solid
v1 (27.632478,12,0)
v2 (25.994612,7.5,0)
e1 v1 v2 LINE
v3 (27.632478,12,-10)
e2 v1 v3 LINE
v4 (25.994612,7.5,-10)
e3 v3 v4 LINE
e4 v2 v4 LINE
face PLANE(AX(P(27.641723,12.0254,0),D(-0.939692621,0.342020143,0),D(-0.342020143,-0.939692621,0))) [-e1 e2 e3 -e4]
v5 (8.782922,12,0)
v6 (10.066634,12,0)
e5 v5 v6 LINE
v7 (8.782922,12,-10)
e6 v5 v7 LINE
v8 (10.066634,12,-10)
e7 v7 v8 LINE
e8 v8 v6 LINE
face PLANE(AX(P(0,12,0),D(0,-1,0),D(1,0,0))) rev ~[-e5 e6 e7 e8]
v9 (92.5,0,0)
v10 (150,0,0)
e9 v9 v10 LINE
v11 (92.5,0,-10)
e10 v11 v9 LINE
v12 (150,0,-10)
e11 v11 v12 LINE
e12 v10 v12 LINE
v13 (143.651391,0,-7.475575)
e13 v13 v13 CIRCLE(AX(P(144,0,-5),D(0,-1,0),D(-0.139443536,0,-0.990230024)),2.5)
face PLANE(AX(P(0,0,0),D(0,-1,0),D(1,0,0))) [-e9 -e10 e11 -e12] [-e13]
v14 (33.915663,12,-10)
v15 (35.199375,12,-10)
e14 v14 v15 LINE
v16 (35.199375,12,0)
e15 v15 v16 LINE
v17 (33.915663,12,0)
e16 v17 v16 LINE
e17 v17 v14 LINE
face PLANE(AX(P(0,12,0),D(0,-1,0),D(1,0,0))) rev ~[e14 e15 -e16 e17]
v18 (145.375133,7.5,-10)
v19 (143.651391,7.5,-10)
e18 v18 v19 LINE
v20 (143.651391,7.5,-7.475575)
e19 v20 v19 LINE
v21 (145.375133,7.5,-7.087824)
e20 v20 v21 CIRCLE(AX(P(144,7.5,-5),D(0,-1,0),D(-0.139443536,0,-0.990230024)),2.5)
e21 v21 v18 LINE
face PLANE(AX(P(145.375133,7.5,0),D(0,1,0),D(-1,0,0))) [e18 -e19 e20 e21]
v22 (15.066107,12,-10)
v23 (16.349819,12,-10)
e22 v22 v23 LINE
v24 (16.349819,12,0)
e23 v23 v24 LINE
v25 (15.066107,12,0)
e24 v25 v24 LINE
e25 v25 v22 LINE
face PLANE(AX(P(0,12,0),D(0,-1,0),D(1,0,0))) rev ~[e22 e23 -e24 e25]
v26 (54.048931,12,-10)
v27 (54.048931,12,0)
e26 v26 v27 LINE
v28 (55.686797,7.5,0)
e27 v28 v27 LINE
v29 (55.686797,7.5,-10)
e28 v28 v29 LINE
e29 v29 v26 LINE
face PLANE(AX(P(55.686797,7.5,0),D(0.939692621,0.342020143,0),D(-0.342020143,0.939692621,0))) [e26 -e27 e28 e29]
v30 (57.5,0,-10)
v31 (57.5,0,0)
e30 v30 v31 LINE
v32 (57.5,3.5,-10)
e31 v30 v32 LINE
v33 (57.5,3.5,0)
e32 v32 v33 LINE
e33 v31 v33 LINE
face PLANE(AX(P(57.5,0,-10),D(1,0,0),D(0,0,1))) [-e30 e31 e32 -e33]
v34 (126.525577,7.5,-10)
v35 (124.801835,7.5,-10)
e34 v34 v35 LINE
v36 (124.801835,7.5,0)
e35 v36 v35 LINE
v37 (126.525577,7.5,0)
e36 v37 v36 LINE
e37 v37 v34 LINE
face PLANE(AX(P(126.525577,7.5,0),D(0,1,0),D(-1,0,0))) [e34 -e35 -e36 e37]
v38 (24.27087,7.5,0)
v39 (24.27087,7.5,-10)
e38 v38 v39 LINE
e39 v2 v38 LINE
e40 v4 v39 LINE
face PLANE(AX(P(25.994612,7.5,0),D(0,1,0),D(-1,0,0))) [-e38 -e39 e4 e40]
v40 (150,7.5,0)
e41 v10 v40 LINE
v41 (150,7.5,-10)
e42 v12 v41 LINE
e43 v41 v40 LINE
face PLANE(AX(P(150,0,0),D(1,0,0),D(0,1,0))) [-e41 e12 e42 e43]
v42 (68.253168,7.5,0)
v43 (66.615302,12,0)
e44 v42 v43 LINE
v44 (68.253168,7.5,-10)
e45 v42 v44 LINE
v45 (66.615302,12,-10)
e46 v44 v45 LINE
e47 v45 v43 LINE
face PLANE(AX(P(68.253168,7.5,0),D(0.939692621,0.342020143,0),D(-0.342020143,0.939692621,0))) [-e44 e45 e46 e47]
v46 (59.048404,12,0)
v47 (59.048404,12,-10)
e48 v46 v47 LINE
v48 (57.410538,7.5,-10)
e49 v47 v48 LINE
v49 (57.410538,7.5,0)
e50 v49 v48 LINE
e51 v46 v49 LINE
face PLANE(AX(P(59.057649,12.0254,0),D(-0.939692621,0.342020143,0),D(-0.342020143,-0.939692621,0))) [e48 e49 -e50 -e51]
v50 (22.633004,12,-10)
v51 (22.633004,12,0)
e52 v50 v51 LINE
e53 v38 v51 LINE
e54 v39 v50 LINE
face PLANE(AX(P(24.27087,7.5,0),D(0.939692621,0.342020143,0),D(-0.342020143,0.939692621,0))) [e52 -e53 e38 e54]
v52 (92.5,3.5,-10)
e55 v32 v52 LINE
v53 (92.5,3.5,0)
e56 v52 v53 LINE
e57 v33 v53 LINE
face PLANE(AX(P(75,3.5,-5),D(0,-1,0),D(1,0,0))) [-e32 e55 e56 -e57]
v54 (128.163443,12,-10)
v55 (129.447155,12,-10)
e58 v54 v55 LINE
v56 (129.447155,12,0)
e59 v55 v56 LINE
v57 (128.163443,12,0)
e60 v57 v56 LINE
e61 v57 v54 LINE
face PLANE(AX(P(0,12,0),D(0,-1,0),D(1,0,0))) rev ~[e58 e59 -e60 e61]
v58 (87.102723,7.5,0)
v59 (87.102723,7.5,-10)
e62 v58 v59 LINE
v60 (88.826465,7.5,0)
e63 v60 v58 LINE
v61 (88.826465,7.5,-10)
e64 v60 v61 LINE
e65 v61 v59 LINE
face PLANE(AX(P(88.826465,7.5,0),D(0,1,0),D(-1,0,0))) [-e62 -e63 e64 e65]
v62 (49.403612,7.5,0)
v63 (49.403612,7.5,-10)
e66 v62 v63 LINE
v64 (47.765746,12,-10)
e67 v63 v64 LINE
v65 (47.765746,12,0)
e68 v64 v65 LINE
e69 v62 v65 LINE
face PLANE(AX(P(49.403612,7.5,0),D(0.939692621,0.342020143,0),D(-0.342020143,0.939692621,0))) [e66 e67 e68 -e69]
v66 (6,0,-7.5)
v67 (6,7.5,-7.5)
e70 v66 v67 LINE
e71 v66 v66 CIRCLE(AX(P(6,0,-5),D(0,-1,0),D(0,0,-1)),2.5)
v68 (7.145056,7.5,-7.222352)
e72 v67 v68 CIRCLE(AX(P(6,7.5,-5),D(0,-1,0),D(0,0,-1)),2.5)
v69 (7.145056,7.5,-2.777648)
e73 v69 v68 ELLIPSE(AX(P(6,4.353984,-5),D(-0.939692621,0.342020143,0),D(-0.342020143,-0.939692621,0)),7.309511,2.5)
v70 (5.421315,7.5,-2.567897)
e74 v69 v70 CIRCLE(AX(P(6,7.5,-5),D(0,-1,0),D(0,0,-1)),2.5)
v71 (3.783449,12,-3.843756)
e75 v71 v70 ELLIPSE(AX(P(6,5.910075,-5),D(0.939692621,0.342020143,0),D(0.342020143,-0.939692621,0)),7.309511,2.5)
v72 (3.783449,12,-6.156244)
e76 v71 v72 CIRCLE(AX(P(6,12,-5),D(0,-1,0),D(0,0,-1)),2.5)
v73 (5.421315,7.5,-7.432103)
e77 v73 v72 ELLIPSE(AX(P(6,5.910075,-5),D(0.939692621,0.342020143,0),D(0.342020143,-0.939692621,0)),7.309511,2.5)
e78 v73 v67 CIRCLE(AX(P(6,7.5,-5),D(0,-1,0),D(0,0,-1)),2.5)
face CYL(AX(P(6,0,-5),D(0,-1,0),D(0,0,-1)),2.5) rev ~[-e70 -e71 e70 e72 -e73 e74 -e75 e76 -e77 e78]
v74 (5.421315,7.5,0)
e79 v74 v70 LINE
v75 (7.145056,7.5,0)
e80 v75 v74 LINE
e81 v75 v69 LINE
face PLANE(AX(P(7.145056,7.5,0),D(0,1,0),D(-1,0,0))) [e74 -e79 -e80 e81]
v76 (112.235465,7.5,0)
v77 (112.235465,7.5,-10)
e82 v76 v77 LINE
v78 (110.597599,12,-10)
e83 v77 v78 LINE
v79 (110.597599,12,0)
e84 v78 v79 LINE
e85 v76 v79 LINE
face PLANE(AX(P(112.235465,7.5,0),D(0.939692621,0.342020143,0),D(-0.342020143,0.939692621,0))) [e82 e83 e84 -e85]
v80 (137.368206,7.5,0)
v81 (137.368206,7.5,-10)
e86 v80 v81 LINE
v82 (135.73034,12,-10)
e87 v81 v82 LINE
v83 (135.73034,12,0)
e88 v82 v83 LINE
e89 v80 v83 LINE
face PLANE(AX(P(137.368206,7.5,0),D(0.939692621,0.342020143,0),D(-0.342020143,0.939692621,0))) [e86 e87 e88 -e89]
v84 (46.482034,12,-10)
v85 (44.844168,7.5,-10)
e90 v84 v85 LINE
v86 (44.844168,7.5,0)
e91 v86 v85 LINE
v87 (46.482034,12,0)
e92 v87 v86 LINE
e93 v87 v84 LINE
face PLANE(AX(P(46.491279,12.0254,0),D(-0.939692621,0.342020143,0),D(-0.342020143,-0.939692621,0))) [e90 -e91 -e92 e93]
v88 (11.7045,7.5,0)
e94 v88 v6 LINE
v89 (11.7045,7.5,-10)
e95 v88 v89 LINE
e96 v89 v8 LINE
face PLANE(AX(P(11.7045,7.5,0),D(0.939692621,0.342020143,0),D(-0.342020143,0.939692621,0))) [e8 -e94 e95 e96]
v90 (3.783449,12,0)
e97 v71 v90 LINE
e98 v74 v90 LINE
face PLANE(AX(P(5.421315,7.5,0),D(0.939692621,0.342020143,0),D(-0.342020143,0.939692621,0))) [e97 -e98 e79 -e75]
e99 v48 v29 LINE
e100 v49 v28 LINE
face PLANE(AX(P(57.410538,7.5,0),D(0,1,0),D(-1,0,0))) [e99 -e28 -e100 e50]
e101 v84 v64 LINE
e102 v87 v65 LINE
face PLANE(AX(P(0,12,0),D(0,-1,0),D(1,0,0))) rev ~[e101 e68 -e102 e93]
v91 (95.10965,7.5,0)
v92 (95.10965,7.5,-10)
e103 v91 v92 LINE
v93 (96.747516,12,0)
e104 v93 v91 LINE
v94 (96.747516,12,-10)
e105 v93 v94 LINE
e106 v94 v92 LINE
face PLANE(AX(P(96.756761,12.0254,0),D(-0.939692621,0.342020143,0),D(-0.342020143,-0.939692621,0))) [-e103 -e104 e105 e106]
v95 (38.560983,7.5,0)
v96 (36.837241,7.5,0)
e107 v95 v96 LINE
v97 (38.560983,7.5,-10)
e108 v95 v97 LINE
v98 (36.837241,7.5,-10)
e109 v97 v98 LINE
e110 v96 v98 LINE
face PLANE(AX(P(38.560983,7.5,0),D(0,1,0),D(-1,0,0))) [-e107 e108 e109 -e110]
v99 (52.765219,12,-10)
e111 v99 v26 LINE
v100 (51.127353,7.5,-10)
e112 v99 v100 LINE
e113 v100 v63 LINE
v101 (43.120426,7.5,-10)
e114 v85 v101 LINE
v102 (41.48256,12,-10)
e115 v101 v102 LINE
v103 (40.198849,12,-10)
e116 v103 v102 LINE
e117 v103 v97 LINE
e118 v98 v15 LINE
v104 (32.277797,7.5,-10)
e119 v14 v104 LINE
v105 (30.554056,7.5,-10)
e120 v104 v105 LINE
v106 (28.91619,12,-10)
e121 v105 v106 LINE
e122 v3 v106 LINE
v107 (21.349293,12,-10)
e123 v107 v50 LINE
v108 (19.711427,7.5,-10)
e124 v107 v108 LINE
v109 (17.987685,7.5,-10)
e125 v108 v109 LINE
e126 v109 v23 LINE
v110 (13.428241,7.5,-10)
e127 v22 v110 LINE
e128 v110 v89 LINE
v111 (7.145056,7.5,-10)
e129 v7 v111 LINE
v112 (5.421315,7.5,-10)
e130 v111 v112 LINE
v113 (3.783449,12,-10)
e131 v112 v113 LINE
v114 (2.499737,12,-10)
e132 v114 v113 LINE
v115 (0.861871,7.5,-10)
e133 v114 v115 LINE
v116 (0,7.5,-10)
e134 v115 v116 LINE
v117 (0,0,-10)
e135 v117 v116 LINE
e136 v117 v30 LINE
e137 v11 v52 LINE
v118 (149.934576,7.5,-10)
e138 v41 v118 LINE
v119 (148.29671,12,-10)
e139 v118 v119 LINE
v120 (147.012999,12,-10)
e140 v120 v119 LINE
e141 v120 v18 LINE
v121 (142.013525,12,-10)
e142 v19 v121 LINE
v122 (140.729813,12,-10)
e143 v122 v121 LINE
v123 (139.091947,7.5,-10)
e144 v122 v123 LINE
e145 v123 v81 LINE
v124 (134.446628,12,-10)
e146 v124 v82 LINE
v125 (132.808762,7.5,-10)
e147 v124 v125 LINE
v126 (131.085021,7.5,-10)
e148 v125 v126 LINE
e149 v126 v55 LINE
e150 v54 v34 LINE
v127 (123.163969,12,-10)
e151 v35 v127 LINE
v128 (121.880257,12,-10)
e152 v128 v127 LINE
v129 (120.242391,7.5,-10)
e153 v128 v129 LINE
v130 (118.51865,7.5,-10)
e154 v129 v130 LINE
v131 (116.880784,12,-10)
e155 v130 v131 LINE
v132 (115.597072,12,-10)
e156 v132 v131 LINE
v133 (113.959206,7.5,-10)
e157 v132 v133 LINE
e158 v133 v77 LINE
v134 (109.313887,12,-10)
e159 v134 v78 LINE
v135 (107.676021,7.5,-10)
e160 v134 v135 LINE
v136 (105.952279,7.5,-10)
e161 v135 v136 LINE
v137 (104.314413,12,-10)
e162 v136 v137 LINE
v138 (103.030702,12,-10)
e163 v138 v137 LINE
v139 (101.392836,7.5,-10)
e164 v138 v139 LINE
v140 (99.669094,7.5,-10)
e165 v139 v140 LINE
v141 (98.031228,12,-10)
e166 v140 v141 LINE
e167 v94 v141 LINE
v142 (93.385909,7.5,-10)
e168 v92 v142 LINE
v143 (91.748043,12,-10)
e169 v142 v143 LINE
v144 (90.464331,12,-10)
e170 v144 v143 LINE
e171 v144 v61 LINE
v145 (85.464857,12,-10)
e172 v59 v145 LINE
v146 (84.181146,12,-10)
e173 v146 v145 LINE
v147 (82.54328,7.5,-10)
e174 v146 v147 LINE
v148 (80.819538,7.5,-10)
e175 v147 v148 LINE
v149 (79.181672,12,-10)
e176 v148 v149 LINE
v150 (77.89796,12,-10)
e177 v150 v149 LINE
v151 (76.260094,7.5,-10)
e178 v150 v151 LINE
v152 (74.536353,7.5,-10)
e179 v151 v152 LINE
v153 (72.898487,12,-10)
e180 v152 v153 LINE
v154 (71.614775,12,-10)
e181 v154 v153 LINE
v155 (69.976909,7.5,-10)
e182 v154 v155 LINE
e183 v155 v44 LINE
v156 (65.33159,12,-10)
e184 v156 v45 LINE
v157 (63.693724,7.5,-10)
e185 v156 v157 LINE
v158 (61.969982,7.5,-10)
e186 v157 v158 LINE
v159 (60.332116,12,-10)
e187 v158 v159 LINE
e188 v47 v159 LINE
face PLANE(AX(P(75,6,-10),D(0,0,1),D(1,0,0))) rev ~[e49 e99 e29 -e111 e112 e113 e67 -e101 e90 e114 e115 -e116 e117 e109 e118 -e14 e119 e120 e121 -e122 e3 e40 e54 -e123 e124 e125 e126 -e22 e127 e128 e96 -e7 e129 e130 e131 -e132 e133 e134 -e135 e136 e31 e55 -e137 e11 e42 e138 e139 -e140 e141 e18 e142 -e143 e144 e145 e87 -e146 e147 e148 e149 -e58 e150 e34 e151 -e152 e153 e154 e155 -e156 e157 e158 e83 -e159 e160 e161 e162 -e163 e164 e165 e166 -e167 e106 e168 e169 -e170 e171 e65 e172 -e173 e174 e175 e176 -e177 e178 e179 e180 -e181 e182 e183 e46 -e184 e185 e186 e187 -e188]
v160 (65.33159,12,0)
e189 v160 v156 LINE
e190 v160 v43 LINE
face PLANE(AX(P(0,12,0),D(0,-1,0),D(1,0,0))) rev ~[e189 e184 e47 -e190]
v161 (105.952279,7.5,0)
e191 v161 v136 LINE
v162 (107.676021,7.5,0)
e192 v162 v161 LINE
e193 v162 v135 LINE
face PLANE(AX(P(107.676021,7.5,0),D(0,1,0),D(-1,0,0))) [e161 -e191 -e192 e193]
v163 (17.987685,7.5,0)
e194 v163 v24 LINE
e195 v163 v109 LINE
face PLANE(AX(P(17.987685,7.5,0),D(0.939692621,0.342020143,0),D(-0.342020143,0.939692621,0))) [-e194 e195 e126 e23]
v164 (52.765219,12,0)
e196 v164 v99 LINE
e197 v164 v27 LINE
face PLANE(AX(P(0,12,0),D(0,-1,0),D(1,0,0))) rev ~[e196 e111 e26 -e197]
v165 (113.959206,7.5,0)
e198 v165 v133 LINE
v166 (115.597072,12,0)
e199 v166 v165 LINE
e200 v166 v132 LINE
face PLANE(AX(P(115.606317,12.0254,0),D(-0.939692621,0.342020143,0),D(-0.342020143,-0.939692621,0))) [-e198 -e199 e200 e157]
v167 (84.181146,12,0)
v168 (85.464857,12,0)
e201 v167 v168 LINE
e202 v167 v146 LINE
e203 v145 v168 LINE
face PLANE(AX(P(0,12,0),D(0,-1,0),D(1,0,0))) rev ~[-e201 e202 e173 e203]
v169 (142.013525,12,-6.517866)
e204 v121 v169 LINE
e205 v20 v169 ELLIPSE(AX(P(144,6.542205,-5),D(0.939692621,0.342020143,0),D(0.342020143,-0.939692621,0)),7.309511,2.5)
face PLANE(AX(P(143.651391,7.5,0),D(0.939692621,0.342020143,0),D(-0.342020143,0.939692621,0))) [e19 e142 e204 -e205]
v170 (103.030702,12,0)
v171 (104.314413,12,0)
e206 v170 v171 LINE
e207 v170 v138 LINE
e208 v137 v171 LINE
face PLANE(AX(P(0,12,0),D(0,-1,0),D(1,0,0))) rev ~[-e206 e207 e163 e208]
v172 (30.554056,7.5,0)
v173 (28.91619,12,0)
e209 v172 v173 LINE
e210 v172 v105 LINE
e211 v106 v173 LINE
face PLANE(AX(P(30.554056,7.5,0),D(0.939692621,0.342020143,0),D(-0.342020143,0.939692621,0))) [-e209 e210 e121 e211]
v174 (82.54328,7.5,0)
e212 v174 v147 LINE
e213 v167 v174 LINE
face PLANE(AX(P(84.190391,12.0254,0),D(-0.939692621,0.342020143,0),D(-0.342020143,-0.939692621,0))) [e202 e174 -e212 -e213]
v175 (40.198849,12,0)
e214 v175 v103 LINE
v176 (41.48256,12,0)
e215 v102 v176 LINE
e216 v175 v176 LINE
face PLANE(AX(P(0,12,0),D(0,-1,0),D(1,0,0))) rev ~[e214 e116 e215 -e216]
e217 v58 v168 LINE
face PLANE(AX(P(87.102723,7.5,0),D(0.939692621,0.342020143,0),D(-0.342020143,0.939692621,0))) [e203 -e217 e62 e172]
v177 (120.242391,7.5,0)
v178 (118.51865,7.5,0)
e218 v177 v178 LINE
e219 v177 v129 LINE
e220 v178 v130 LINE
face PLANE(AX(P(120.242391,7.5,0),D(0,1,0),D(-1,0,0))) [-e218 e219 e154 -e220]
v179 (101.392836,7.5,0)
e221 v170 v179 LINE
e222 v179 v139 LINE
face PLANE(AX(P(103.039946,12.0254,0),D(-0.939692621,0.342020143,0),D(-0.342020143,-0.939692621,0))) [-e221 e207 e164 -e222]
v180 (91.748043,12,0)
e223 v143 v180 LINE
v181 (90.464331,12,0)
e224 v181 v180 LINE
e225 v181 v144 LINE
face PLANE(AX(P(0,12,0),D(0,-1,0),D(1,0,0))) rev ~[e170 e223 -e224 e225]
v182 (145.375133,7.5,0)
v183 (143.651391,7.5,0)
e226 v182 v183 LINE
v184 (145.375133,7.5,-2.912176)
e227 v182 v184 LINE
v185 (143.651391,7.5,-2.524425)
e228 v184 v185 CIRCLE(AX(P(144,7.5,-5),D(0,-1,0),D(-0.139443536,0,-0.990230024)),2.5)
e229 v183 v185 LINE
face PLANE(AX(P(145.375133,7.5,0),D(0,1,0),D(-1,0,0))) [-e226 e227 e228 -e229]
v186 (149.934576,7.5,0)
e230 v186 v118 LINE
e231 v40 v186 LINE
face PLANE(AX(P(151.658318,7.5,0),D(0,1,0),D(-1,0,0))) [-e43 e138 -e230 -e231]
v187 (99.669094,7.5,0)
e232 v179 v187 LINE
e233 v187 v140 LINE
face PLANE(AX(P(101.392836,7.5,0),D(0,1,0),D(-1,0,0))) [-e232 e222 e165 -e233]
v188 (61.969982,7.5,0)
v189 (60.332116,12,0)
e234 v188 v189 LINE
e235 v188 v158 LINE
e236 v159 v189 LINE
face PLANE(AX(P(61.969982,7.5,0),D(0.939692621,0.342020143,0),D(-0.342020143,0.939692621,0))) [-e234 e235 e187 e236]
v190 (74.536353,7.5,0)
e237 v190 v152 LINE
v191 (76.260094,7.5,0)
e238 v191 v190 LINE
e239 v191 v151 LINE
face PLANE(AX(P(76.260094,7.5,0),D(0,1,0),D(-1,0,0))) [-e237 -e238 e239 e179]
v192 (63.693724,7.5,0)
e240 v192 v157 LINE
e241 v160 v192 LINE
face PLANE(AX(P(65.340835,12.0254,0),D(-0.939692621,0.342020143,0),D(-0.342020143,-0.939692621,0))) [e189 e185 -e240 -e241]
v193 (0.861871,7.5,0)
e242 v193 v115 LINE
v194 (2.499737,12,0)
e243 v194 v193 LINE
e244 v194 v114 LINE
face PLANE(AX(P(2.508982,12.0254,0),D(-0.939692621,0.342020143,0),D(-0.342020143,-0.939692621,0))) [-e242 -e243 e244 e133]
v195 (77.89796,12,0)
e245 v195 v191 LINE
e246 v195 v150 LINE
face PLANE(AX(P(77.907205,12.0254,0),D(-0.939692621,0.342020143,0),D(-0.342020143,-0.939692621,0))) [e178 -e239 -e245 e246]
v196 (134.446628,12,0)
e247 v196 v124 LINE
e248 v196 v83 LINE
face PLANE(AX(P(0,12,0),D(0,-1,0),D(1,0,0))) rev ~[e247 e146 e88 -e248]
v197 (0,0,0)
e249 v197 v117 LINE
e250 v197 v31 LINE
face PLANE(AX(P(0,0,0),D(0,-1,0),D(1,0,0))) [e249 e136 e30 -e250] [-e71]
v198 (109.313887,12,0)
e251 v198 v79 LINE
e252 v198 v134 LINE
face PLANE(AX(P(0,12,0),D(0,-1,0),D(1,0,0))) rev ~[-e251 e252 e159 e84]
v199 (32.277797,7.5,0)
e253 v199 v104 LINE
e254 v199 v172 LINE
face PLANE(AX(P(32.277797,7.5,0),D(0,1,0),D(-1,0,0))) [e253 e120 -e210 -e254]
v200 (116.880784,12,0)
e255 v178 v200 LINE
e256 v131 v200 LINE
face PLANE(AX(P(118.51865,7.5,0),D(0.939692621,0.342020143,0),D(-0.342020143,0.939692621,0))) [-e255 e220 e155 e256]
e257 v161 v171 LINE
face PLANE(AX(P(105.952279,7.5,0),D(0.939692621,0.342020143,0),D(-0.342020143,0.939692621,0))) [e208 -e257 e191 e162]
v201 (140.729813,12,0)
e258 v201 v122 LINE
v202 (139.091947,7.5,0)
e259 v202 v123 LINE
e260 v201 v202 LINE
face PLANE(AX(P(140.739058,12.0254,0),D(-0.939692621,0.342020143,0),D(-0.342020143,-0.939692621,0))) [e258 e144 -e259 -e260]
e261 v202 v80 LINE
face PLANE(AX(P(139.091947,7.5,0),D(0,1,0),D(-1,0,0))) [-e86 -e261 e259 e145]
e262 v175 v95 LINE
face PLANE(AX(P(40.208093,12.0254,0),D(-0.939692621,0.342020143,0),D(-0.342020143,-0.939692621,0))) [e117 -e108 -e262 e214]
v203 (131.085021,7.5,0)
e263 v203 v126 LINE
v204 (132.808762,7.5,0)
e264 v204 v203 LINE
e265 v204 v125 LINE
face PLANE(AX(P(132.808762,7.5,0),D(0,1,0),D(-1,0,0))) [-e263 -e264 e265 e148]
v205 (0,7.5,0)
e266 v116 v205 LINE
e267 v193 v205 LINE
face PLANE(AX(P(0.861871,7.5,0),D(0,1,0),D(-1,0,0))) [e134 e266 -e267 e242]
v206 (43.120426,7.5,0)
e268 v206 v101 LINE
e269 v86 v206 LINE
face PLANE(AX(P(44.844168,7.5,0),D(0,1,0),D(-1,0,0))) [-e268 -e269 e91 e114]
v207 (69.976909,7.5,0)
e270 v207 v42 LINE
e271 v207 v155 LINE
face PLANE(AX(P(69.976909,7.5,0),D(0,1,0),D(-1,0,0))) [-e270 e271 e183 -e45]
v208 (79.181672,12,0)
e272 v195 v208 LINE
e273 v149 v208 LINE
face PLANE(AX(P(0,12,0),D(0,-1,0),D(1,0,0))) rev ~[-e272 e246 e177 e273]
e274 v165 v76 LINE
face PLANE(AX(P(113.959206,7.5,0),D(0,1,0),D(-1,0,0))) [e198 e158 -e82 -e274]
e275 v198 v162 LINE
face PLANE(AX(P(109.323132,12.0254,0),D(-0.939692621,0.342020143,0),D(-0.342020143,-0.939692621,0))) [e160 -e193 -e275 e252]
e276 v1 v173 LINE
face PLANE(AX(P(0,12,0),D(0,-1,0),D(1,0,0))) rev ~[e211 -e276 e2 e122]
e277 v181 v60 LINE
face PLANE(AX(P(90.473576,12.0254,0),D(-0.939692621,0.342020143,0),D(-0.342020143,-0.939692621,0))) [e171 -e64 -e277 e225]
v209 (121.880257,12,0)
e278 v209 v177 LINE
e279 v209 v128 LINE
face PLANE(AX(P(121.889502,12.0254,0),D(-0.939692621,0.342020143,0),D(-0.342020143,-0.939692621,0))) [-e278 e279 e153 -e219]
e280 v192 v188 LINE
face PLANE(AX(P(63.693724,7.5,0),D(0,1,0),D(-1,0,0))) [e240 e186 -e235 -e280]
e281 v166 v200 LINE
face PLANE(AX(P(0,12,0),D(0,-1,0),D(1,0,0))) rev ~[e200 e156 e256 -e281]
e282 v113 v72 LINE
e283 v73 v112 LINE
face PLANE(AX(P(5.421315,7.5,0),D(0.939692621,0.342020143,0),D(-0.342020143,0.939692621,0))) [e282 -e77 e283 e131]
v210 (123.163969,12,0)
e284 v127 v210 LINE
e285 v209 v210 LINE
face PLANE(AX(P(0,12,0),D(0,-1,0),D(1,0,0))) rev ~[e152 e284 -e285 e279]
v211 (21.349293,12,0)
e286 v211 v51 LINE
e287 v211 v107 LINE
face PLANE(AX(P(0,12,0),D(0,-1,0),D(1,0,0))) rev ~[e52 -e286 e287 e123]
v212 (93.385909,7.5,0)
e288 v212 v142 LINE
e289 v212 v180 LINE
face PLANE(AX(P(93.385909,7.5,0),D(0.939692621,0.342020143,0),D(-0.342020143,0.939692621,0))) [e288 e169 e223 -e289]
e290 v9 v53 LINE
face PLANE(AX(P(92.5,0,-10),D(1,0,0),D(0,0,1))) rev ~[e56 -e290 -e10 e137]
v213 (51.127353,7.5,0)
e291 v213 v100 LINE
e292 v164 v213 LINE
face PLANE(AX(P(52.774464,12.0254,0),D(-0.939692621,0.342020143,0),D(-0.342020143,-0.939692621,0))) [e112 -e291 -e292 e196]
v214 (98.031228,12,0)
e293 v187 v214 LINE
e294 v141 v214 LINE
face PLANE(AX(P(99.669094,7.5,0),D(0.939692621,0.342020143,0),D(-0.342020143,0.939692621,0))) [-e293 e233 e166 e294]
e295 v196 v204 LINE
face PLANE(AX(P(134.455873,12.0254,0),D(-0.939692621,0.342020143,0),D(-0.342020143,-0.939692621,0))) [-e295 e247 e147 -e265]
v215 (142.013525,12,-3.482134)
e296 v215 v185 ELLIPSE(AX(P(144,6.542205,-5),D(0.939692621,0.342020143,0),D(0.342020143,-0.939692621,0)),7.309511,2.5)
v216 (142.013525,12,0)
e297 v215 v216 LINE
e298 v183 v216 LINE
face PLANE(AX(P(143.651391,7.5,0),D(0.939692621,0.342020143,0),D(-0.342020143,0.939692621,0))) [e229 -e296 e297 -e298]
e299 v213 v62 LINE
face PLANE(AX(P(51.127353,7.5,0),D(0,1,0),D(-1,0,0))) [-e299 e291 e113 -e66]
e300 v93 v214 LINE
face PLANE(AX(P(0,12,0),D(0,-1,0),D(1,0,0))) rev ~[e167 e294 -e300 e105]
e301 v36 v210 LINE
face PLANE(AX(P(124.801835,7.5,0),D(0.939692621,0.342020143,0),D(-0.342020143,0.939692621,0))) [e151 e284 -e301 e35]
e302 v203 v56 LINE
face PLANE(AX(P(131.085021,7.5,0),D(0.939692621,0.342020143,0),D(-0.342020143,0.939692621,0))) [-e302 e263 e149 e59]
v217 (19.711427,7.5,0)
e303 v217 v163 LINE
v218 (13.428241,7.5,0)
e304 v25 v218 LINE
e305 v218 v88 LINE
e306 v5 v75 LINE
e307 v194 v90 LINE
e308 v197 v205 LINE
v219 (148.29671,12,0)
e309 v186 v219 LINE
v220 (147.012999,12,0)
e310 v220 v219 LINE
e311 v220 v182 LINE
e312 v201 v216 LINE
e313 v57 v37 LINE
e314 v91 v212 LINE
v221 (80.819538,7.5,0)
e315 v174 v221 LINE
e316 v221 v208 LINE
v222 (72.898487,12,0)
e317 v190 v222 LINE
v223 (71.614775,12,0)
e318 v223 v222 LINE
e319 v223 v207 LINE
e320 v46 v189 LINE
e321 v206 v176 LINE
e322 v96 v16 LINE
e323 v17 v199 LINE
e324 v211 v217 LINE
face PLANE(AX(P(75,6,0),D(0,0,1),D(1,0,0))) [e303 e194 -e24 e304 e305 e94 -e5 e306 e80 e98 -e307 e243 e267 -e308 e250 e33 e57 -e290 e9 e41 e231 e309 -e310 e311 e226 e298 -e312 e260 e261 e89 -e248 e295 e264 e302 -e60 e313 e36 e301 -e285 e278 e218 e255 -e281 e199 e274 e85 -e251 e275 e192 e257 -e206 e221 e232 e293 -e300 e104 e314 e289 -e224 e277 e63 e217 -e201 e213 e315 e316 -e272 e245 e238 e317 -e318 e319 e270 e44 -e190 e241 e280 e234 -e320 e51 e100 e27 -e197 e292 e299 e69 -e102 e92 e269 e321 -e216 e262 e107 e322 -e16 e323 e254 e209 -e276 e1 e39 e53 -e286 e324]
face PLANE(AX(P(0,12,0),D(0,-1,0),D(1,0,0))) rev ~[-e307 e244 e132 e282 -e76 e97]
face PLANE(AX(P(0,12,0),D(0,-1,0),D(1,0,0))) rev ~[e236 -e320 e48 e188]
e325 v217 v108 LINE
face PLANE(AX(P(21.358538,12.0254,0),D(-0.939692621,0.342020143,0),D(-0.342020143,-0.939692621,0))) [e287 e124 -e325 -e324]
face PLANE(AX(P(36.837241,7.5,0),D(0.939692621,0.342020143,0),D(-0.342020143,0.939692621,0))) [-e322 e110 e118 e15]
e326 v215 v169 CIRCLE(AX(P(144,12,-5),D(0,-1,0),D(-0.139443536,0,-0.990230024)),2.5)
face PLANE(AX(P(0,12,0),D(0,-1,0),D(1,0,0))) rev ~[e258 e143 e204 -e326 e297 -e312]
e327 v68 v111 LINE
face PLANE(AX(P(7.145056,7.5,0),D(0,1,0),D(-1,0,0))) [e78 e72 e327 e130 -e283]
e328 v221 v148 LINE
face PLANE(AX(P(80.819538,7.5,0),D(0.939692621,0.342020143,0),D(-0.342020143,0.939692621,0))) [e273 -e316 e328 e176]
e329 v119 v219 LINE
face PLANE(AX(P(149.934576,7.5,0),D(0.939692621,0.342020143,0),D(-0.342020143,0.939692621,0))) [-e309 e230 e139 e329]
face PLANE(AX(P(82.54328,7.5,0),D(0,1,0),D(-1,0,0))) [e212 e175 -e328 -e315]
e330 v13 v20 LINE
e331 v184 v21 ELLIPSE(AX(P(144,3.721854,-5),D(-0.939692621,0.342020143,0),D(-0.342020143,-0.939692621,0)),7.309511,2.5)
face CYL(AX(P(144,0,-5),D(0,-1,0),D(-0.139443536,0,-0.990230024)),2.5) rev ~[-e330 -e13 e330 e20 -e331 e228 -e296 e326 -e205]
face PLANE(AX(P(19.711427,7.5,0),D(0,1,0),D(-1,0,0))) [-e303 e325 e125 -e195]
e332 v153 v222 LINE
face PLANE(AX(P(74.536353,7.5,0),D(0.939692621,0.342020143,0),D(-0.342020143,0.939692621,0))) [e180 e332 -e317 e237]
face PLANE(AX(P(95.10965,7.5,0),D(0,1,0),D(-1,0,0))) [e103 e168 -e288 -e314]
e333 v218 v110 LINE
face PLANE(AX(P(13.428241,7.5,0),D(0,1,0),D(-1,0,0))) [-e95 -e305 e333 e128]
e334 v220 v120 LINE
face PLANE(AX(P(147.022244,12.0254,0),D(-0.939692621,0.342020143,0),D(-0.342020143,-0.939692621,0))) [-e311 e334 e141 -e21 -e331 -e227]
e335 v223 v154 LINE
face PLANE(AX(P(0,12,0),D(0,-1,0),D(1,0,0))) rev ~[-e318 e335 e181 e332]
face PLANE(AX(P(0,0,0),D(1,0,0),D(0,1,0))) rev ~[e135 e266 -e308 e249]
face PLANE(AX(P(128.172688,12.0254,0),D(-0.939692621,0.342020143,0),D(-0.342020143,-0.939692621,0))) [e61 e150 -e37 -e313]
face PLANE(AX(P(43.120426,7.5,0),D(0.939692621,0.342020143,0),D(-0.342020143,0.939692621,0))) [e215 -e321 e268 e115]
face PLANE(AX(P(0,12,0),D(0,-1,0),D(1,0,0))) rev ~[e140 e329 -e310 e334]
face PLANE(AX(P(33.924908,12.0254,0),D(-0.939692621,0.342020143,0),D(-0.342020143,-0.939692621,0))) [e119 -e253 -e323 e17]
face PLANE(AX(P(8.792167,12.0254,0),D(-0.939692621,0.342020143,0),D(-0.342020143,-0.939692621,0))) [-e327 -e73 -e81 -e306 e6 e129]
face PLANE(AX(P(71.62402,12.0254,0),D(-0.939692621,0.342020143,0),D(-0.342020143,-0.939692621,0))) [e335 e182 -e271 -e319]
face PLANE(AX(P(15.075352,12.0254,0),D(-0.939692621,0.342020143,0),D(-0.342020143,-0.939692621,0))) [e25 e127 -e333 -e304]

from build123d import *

# Parameters (mm, degrees)
BLANKSKE_W         = 150
BLANKSKE_H         = 12
BLANK_DEPTH        = 10
TOOTHCUTSIM_DEPTH  = 151.811140172
TEETHCUTS_COUNT    = 25
TEETHCUTS_PITCH    = 6.2831853
SKETCH1_W          = 35
SKETCH1_H          = 10
CUT_EXTRUDE1_DEPTH = 3.5
CUT_EXTRUDE2_REACH = 152.811
SKETCH2_R          = 2.5


with BuildPart() as part:
    # BlankSke → Blank (new body)
    with BuildSketch(Plane.XY):
        with Locations((75, 6)):
            Rectangle(BLANKSKE_W, BLANKSKE_H)
    extrude(amount=-BLANK_DEPTH)

    # TooCutSkeSim → ToothCutSim (cut, through all)
    with BuildSketch(Plane.XY):
        Polygon((0.861870739, 7.5), (-0.861870739, 7.5), (-2.508981637, 12.0254), (2.508981637, 12.0254), align=None)
    toothcutsim = extrude(amount=-TOOTHCUTSIM_DEPTH, mode=Mode.SUBTRACT)

    # TeethCuts: ToothCutSim ×25
    with Locations(*[(i * TEETHCUTS_PITCH, 0, 0) for i in range(1, TEETHCUTS_COUNT)]):
        add(toothcutsim, mode=Mode.SUBTRACT)

    # Sketch1 → Cut-Extrude1 (cut)
    with BuildSketch(Plane.XZ):
        with Locations((75, -5)):
            Rectangle(SKETCH1_W, SKETCH1_H)
    extrude(amount=-CUT_EXTRUDE1_DEPTH, mode=Mode.SUBTRACT)

    # Cut-Extrude2: up to this face of the body (flat: up to its plane)
    cut_extrude2_end = Plane(part.part.faces().sort_by_distance((141.37166925, 12, -5))[0])
    # Sketch2 → Cut-Extrude2 (cut, up to the picked face)
    with BuildSketch(Plane.XZ, mode=Mode.PRIVATE) as cut_extrude2_sk1:
        with Locations(Location((6, -5, 0), (0, 0, 270))):
            Circle(SKETCH2_R)
    cut_extrude2_tool1 = split(extrude(cut_extrude2_sk1.sketch, amount=-CUT_EXTRUDE2_REACH, mode=Mode.PRIVATE), bisect_by=cut_extrude2_end, keep=Keep.BOTH, mode=Mode.PRIVATE)
    # Sketch2 → Cut-Extrude2 (cut, up to the picked face)
    with BuildSketch(Plane.XZ, mode=Mode.PRIVATE) as cut_extrude2_sk2:
        with Locations(Location((144, -5, 0), (0, 0, 261.984352652))):
            Circle(SKETCH2_R)
    cut_extrude2_tool2 = split(extrude(cut_extrude2_sk2.sketch, amount=-CUT_EXTRUDE2_REACH, mode=Mode.PRIVATE), bisect_by=cut_extrude2_end, keep=Keep.BOTH, mode=Mode.PRIVATE)
    add(cut_extrude2_tool1.solids().sort_by(Axis((6, 0, -5), (0, 1, 0)))[0], mode=Mode.SUBTRACT)
    add(cut_extrude2_tool2.solids().sort_by(Axis((144, 0, -5), (0, 1, 0)))[0], mode=Mode.SUBTRACT)


solid = part.part
